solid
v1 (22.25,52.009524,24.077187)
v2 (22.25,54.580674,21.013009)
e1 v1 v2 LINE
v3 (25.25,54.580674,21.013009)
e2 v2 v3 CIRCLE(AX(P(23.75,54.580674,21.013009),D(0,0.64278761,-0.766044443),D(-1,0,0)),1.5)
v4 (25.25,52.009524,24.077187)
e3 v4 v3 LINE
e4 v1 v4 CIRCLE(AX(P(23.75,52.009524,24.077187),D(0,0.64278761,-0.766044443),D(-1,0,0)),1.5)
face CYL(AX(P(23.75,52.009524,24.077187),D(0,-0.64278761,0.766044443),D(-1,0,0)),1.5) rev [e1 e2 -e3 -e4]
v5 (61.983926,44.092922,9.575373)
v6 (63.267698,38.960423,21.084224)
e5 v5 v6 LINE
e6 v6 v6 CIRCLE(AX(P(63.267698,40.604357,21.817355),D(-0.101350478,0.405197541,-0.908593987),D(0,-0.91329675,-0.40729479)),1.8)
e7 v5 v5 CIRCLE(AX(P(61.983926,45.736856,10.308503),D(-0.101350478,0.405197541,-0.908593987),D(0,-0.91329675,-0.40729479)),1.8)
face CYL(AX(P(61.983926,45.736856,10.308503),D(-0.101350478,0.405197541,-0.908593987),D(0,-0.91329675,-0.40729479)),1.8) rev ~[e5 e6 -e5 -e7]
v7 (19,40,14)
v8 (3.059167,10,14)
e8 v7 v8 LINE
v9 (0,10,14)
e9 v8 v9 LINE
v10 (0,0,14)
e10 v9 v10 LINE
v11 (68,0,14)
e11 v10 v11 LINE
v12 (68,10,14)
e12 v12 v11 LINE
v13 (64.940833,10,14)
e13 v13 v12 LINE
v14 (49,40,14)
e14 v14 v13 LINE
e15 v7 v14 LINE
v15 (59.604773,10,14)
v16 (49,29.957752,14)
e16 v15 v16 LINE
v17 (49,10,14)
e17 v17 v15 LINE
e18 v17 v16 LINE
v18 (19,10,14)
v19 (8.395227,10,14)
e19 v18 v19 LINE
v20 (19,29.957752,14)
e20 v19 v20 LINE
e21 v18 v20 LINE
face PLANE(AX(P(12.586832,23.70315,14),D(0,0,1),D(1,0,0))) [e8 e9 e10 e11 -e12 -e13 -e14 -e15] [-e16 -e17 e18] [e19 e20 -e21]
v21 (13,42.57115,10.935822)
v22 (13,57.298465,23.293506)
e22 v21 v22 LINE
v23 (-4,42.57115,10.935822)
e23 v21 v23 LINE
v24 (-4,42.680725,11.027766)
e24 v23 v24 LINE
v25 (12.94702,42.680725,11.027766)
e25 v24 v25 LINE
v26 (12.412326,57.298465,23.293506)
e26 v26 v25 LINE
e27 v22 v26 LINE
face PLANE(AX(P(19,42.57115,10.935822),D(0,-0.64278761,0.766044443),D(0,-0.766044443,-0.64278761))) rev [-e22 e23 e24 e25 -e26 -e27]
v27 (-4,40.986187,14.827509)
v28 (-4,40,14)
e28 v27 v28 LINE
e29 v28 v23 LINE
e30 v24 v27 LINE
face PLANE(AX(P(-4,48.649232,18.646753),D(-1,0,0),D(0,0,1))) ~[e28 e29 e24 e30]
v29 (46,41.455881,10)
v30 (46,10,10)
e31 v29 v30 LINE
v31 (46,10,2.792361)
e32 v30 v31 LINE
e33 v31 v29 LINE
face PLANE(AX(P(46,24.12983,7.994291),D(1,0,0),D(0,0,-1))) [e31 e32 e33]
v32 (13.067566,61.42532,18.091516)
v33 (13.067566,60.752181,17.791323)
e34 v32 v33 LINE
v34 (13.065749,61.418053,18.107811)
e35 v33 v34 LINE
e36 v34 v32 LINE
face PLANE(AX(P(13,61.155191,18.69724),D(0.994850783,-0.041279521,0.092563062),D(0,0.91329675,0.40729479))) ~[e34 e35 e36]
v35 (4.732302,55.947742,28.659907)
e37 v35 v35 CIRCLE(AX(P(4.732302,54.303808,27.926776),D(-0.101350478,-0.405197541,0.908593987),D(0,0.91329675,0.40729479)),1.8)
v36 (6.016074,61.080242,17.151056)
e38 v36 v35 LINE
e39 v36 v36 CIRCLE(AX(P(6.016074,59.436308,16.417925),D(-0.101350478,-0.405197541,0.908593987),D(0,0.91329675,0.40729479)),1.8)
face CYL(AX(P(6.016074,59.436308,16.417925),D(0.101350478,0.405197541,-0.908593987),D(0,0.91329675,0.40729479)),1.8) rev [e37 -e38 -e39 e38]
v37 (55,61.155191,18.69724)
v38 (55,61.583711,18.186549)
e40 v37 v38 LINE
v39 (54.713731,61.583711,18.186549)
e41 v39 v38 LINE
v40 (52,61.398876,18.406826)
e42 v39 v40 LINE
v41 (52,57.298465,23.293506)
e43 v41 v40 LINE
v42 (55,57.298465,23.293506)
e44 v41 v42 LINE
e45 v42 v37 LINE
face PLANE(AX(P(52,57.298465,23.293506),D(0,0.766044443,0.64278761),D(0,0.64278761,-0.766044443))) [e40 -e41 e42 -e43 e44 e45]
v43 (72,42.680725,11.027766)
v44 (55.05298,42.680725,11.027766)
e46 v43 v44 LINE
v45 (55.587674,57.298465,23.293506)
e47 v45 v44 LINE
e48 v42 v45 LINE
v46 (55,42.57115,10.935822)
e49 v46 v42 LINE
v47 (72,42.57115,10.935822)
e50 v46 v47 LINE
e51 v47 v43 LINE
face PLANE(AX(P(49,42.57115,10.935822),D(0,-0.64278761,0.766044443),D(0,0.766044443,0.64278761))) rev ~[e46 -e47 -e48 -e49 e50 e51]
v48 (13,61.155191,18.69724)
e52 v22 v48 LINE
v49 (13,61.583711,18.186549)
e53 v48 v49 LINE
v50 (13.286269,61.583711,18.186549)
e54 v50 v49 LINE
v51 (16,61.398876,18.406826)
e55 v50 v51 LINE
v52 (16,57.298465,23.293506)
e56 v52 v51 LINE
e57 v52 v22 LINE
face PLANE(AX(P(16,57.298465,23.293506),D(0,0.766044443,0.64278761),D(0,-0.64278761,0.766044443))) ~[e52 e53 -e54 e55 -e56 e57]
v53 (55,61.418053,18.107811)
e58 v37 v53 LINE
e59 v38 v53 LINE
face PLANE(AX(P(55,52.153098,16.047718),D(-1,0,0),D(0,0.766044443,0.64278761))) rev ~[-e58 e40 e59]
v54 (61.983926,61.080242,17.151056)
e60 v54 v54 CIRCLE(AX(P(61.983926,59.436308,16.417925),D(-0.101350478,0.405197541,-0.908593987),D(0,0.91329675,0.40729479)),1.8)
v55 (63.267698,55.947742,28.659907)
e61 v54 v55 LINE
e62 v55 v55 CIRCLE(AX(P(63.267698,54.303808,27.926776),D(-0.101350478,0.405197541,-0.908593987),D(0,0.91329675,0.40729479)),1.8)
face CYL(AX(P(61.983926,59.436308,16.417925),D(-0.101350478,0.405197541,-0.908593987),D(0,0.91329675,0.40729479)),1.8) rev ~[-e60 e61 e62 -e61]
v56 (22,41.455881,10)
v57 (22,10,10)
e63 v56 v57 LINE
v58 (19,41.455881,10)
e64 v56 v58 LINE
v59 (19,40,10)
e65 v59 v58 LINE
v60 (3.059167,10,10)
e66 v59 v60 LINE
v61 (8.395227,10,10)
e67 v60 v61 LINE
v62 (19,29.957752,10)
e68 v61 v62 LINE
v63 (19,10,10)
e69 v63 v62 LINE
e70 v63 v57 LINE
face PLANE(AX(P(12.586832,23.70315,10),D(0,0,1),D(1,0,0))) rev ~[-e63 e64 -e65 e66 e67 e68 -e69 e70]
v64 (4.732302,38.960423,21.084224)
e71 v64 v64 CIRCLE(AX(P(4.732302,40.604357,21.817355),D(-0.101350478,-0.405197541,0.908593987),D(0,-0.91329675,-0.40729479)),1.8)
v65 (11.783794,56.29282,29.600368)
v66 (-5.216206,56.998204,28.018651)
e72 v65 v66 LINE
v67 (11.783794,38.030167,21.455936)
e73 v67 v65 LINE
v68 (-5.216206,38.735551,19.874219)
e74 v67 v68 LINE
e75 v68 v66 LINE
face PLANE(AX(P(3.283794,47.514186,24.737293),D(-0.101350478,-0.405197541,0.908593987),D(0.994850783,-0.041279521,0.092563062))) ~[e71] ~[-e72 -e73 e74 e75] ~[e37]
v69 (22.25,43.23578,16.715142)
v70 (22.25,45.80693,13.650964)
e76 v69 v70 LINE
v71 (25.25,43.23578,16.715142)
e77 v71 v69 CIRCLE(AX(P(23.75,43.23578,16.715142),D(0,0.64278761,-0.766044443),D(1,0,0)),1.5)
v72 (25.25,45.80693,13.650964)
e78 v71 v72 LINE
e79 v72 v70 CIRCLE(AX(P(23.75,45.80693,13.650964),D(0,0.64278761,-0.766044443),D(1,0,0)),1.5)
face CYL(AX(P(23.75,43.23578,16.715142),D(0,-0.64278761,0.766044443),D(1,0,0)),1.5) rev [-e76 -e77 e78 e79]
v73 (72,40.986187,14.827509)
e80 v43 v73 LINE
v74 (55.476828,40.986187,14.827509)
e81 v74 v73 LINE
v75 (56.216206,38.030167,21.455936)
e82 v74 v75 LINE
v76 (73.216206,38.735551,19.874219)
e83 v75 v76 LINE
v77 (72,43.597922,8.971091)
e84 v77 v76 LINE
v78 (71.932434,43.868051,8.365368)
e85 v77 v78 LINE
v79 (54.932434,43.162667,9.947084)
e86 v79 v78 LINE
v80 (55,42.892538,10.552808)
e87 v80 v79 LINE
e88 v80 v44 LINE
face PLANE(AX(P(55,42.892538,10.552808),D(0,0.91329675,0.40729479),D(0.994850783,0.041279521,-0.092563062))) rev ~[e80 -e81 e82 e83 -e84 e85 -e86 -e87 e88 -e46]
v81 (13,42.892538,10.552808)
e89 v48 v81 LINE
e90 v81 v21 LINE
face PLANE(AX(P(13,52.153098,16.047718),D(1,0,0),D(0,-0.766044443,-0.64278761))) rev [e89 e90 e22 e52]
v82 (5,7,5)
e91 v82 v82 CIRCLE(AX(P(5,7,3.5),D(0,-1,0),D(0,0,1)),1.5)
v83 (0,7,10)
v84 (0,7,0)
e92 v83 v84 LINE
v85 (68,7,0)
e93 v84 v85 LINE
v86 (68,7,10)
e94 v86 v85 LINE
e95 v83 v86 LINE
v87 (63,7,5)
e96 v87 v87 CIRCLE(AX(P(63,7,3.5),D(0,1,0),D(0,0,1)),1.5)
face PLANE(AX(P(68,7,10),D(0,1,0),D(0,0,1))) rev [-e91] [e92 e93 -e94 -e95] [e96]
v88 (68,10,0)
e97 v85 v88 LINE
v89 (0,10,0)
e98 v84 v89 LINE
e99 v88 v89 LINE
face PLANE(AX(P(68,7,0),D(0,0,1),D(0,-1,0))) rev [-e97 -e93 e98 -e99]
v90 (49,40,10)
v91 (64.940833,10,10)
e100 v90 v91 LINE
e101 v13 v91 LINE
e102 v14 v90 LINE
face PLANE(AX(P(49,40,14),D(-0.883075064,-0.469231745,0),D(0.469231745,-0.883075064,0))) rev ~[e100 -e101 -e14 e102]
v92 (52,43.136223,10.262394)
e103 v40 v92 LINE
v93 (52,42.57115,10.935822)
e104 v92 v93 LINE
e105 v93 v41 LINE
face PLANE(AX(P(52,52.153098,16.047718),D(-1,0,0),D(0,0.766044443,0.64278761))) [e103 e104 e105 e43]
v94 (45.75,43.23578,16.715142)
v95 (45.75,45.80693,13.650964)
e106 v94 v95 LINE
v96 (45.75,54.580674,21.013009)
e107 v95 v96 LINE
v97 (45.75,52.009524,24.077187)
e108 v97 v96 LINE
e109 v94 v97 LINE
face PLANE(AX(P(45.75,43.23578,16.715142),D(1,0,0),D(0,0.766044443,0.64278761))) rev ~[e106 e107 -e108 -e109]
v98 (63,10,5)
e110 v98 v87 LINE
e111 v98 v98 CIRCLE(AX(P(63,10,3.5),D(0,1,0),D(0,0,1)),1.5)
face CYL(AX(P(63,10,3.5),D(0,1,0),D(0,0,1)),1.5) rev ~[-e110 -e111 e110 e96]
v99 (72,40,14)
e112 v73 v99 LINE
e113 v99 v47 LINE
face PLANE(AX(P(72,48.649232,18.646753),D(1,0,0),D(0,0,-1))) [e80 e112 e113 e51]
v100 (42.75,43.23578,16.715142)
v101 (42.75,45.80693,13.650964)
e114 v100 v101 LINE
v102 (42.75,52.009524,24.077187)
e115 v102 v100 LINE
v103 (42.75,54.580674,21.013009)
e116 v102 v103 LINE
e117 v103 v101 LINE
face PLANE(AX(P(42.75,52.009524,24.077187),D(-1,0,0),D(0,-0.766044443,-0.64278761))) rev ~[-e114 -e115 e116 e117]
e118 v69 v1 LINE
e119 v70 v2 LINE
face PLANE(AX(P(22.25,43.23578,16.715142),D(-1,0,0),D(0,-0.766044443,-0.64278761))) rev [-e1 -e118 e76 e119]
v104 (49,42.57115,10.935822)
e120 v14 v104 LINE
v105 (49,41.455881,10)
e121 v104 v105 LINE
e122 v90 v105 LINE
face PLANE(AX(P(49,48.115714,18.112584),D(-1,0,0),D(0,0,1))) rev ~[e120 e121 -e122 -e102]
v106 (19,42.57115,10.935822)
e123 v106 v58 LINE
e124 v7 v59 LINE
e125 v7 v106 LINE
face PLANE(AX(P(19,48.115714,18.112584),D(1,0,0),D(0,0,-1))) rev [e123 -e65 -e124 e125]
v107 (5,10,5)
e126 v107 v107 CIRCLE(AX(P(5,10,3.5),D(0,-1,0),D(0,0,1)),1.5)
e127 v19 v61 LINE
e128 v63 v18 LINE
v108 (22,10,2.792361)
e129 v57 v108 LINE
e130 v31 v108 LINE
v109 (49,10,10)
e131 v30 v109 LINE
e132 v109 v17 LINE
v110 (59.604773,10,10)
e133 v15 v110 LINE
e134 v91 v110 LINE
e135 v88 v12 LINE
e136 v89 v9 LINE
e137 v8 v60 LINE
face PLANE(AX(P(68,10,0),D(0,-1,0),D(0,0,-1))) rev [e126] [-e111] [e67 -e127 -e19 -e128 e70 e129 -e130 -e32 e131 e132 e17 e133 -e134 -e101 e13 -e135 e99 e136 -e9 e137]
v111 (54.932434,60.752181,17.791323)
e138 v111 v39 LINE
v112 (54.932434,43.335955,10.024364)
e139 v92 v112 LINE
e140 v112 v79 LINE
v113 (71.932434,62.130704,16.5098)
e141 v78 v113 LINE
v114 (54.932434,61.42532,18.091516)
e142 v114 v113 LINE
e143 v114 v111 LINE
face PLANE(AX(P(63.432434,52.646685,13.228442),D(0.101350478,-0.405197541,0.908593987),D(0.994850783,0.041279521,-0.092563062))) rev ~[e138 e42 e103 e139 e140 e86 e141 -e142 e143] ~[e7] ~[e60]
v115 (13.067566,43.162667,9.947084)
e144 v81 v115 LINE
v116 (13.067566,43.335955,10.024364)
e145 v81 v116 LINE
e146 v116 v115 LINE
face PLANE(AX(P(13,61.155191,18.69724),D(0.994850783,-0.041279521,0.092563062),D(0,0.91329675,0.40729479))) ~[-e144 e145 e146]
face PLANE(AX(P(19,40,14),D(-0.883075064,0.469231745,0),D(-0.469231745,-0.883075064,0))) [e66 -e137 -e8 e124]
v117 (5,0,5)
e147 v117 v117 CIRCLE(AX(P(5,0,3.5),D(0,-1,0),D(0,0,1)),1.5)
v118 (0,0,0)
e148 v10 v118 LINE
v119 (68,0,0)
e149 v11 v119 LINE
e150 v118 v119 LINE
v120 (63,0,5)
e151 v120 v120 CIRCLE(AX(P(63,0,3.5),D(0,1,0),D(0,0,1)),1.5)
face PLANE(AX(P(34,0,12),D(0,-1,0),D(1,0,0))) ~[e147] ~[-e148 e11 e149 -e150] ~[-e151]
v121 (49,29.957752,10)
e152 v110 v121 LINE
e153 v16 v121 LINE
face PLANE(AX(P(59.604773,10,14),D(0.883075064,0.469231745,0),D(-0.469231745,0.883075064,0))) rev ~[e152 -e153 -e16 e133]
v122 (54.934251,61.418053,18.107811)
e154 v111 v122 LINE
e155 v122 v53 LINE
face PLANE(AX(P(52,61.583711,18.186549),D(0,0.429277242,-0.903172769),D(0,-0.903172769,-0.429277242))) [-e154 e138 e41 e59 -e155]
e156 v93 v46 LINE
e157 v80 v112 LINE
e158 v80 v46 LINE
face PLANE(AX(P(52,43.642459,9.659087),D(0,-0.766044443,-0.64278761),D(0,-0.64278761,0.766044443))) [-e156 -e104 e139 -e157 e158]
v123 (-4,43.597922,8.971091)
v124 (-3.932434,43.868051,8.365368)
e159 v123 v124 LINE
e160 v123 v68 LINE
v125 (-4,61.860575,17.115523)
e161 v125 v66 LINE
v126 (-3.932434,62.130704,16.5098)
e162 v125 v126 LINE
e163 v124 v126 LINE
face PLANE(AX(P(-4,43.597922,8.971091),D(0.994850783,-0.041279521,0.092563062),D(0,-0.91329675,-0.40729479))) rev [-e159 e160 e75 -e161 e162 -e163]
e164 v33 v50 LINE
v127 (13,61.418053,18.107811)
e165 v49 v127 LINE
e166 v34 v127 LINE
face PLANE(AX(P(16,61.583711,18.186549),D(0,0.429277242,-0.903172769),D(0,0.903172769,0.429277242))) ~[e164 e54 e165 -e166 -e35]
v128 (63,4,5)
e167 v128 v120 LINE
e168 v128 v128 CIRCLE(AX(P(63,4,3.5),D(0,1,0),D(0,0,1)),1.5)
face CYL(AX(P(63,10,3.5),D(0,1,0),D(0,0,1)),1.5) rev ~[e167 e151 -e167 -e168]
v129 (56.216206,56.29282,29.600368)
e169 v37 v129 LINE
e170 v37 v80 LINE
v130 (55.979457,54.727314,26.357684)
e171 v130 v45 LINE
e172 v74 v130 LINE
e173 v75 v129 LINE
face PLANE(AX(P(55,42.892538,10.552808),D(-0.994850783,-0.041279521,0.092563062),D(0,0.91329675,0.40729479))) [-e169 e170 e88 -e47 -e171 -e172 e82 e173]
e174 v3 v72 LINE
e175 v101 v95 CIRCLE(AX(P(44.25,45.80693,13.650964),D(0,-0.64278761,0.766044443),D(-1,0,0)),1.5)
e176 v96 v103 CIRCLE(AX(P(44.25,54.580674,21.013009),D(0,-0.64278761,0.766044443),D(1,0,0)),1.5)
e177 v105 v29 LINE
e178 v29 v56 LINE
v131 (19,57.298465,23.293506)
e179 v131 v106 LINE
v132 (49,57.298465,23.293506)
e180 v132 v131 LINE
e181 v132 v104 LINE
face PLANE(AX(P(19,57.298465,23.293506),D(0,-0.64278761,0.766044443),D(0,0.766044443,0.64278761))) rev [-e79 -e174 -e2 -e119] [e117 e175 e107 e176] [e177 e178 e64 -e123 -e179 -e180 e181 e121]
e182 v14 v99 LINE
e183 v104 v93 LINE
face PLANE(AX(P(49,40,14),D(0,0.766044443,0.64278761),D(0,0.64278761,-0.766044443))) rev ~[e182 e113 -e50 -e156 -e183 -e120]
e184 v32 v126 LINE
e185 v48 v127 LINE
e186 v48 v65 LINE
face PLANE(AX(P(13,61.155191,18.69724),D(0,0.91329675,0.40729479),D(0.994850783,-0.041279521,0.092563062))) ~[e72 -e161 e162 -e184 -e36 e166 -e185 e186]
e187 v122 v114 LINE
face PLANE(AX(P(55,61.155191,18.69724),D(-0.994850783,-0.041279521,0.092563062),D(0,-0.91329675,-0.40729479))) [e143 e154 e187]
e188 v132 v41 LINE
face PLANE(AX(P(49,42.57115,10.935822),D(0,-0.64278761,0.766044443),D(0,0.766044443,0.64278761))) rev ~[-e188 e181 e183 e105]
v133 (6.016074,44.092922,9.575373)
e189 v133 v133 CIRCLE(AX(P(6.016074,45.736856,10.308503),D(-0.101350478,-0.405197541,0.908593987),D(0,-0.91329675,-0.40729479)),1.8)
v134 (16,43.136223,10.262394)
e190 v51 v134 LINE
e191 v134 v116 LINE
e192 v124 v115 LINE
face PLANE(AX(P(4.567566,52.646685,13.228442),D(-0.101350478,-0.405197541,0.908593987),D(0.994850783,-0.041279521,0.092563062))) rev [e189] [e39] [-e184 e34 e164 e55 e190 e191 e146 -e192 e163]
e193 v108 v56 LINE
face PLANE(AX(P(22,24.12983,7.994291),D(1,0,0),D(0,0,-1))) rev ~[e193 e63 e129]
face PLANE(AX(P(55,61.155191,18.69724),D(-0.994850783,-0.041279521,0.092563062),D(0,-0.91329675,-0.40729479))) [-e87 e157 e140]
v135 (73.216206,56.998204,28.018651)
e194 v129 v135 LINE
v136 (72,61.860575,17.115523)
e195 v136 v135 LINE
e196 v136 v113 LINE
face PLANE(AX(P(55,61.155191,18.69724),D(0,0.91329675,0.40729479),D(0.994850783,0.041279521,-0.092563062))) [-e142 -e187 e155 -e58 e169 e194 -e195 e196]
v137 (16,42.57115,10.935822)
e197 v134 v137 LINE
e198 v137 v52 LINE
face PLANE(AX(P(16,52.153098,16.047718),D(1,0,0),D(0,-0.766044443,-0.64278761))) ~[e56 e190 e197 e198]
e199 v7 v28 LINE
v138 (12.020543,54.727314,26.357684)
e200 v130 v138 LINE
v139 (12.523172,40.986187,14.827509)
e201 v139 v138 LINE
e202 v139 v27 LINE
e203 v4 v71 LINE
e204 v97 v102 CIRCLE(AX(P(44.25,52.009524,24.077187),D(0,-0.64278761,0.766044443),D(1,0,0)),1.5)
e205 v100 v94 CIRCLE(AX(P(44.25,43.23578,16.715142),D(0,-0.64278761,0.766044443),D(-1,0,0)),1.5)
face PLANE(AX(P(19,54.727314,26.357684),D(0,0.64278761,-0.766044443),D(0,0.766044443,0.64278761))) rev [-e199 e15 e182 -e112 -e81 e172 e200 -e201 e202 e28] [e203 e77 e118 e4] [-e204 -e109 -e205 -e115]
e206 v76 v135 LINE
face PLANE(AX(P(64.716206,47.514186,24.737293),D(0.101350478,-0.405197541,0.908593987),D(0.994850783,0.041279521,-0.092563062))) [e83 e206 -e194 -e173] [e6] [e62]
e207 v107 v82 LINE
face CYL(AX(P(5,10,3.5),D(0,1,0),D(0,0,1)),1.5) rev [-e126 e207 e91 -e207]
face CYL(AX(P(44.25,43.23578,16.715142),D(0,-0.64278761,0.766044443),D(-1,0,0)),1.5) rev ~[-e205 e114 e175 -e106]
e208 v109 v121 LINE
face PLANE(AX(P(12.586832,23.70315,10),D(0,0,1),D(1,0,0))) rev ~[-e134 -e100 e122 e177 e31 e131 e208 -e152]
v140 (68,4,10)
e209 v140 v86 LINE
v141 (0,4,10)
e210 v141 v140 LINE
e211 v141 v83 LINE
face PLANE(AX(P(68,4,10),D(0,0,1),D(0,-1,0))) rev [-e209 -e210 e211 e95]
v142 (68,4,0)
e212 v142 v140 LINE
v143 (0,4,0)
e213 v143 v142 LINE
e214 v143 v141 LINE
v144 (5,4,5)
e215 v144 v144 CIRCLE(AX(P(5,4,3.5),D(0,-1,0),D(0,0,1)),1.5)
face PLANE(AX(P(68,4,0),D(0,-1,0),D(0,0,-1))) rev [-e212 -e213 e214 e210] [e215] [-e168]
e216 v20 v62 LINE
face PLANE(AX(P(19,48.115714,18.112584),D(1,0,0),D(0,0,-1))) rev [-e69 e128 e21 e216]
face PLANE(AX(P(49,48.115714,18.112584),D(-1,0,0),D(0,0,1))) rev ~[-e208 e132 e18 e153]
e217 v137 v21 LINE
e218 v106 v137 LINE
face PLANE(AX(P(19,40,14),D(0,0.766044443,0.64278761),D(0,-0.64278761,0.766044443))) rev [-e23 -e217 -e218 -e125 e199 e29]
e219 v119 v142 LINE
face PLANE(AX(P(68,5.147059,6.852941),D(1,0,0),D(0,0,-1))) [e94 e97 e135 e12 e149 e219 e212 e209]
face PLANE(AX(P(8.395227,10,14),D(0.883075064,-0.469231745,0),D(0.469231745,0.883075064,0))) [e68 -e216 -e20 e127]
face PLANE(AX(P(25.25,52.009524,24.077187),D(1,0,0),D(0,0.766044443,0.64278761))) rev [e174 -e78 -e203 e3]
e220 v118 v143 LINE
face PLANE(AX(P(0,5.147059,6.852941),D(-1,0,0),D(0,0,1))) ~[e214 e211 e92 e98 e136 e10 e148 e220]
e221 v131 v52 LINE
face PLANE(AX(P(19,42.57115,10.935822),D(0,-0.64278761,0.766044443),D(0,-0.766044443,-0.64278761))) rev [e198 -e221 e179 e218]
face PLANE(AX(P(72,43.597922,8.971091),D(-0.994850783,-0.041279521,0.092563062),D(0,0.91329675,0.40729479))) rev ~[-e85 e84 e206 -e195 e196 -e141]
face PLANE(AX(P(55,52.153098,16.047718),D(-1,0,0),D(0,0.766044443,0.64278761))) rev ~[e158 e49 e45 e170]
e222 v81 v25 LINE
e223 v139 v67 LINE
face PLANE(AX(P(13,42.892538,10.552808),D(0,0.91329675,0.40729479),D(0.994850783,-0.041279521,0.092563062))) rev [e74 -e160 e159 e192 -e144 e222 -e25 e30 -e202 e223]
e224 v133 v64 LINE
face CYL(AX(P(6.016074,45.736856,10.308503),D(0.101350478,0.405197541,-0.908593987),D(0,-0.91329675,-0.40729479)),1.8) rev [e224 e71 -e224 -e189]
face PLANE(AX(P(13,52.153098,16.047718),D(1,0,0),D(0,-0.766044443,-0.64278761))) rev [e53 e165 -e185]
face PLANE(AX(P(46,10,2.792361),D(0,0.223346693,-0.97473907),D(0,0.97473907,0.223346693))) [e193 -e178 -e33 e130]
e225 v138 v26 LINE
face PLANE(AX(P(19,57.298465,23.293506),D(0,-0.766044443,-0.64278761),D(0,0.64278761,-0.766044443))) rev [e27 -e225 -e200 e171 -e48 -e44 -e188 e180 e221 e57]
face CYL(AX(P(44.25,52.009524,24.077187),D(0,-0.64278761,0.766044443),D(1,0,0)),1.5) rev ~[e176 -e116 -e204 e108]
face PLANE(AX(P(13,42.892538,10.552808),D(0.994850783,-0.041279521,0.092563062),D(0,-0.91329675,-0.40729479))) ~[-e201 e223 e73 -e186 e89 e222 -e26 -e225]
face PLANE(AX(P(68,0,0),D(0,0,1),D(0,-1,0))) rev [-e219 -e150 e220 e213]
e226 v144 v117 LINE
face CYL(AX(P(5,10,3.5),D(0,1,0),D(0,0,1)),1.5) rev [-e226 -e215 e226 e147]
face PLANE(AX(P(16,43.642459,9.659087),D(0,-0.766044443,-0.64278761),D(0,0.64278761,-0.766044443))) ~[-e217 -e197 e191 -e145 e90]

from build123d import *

# Parameters (mm, degrees)
EXTRUDE_1_DEPTH       = 68
SKETCH_2_R            = 1.5
CUT_EXTRUDE_1_DEPTH   = 60
SKETCH_3_W            = 30
SKETCH_3_H            = 4
EXTRUDE_2_DEPTH       = 40
EXTRUDE_3_DEPTH       = 30
CUT_EXTRUDE_2_DEPTH   = 4
EXTRUDE_4_DEPTH       = 23
EXTRUDE_START         = -53
EXTRUDE_5_DEPTH       = 23
EXTRUDE_6_DEPTH       = 3
EXTRUDE_7_DEPTH       = 0.66666
SKETCH_17_W           = 17.087989765
SKETCH_17_H           = 19.996406133
EXTRUDE_9_DEPTH       = 12
SKETCH_19_R           = 1.8
CUT_EXTRUDE_3_DEPTH   = 20
SKETCH_20_W           = 61.603006609
SKETCH_20_H           = 84.586869481
CUT_EXTRUDE_4_DEPTH   = 65
SKETCH_21_W           = 7.494214953
SKETCH_21_H           = 26.873102225
CUT_EXTRUDE_5_DEPTH   = 2
SKETCH_22_W           = 9.970658679
SKETCH_22_H           = 25.794738871
CUT_EXTRUDE_6_DEPTH   = 2
EXTRUDE_10_DEPTH      = 4
EXTRUDE_11_DEPTH      = 12
EXTRUDE_11_DEPTH_BACK = 12


with BuildPart() as part:
    # 草图1 → 凸台-拉伸1 (new body)
    with BuildSketch(Plane(origin=(0, 0, 0), x_dir=(0, 0, -1), z_dir=(1, 0, 0))):
        Polygon((0, 0), (0, 4), (-10, 4), (-10, 7), (0, 7), (0, 10), (-14, 10), (-14, 0), align=None)
    extrude(amount=EXTRUDE_1_DEPTH)

    # 草图2 → 切除-拉伸1 (cut)
    with BuildSketch(Plane(origin=(0, 10, 0), x_dir=(1, 0, 0), z_dir=(0, 1, 0))):
        with Locations(Location((5, -3.5, 0), (0, 0, 270))):
            Circle(SKETCH_2_R)
        with Locations(Location((63, -3.5, 0), (0, 0, 270))):
            Circle(SKETCH_2_R)
    extrude(amount=-CUT_EXTRUDE_1_DEPTH, mode=Mode.SUBTRACT)

    # 草图3 → 凸台-拉伸2 (add)
    with BuildSketch(Plane.XZ):
        with Locations((34, 12)):
            Rectangle(SKETCH_3_W, SKETCH_3_H)
    extrude(amount=-EXTRUDE_2_DEPTH)

    # 草图4 → 凸台-拉伸3 (add)
    with BuildSketch(Plane(origin=(49, 0, 0), x_dir=(0, 0, -1), z_dir=(1, 0, 0))):
        Polygon((-14, 40), (-26.357684131, 54.727314459), (-23.293506358, 57.298464898), (-10, 41.455880937), (-10, 40), align=None)
    extrude(amount=-EXTRUDE_3_DEPTH)

    # 草图5 → 切除-拉伸2 (cut)
    with BuildSketch(Plane(origin=(0, 9.633382176, -11.480617817), x_dir=(1, 0, 0), z_dir=(0, -0.6427876096865429, 0.7660444431189751))):
        with BuildLine():
            Line((25.25, 55.318123989), (25.25, 43.864814933))
            ThreePointArc((25.25, 43.864814933), (23.75, 42.364814933), (22.25, 43.864814933))
            Line((22.25, 43.864814933), (22.25, 55.318123989))
            ThreePointArc((22.25, 55.318123989), (23.75, 56.818123989), (25.25, 55.318123989))
        make_face()
        with BuildLine():
            Line((42.75, 55.318123989), (42.75, 43.864814933))
            ThreePointArc((42.75, 43.864814933), (44.25, 42.364814933), (45.75, 43.864814933))
            Line((45.75, 43.864814933), (45.75, 55.318123989))
            ThreePointArc((45.75, 55.318123989), (44.25, 56.818123989), (42.75, 55.318123989))
        make_face()
    extrude(amount=-CUT_EXTRUDE_2_DEPTH, mode=Mode.SUBTRACT)

    # 草图6 → 凸台-拉伸4 (add)
    with BuildSketch(Plane.ZY.offset(-19)):
        Polygon((23.293506358, 57.298464898), (26.357684131, 54.727314459), (14, 40), (10.935822228, 42.571150439), align=None)
    extrude(amount=EXTRUDE_4_DEPTH)

    # 草图7 → 凸台-拉伸5 (add)
    with BuildSketch(Plane.ZY.offset(4).offset(EXTRUDE_START)):
        Polygon((23.293506358, 57.298464898), (26.357684131, 54.727314459), (14, 40), (10.935822228, 42.571150439), align=None)
    extrude(amount=-EXTRUDE_5_DEPTH)

    # 草图10 → 凸台-拉伸6 (add)
    with BuildSketch(Plane(origin=(52, 0, 0), x_dir=(0, 0.7660444431189749, 0.6427876096865431), z_dir=(-1, 0, 0))):
        Polygon((39.64080426, 18.986882184), (58.865947907, 18.986882184), (58.865947907, 25.653542184), (39.64080426, 20.653542184), align=None)
    extrude(amount=-EXTRUDE_6_DEPTH)

    # 草图15 → 凸台-拉伸7 (add)
    with BuildSketch(Plane(origin=(-0.224740323, 0.898508111, -2.01476807), x_dir=(0.9948507831271028, 0.04127952147527669, -0.09256306184522162), z_dir=(0.10135047760810084, -0.4051975406133526, 0.9085939873064868))):
        Polygon((55.510576319, 63.468125115), (55.510576319, 62.353864223), (55.510576319, 43.471718982), (72.598566084, 43.471718982), (72.598566084, 62.353864223), (72.598566084, 63.468125115), align=None)
    extrude(amount=-EXTRUDE_7_DEPTH)

    # 草图17 → 凸台-拉伸9 (add)
    with BuildSketch(Plane(origin=(-0.224740323, 0.898508111, -2.01476807), x_dir=(0.994850783127103, 0.04127952147527699, -0.09256306184522194), z_dir=(0.10135047760810126, -0.40519754061335256, 0.9085939873064869))):
        with Locations((64.054571201, 53.469922049)):
            Rectangle(SKETCH_17_W, SKETCH_17_H)
    extrude(amount=EXTRUDE_9_DEPTH)

    # 草图19 → 切除-拉伸3 (cut)
    with BuildSketch(Plane(origin=(-0.292306632, 1.168637103, -2.620491338), x_dir=(-0.9948507831271028, -0.04127952147527692, 0.09256306184522202), z_dir=(-0.10135047760810131, 0.40519754061335245, -0.908593987306487))):
        with Locations(Location((-62.598566084, 60.969922048, 0), (0, 0, 90))):
            Circle(SKETCH_19_R)
        with Locations(Location((-62.598566084, 45.969922048, 0), (0, 0, 270))):
            Circle(SKETCH_19_R)
    extrude(amount=-CUT_EXTRUDE_3_DEPTH, mode=Mode.SUBTRACT)

    # 草图20 → 切除-拉伸4 (cut)
    with BuildSketch(Plane.ZY.offset(-34)):
        with Locations((16.944749698, 32.191708304)):
            Rectangle(SKETCH_20_W, SKETCH_20_H)
    extrude(amount=CUT_EXTRUDE_4_DEPTH, mode=Mode.SUBTRACT)

    # 镜向7: part across plane


with BuildPart() as part_1:
    add(part.part)
    add(part.part.mirror(Plane.ZY.offset(-34)))

    # 草图21 → 切除-拉伸5 (cut)
    with BuildSketch(Plane(origin=(-0.292306632, 1.168637103, -2.620491338), x_dir=(-0.9948507831271028, -0.04127952147527692, 0.09256306184522202), z_dir=(-0.10135047760810131, 0.40519754061335245, -0.908593987306487))):
        with Locations((-54.514442647, 53.802326892)):
            Rectangle(SKETCH_21_W, SKETCH_21_H)
    extrude(amount=CUT_EXTRUDE_5_DEPTH, mode=Mode.SUBTRACT)

    # 草图22 → 切除-拉伸6 (cut)
    with BuildSketch(Plane(origin=(0.990797146, 3.961190673, -8.882368888), x_dir=(-0.9948507831271028, 0.04127952147527693, -0.09256306184522203), z_dir=(0.10135047760810131, 0.40519754061335256, -0.9085939873064868))):
        with Locations((-12.026553315, 54.032339334)):
            Rectangle(SKETCH_22_W, SKETCH_22_H)
    extrude(amount=CUT_EXTRUDE_6_DEPTH, mode=Mode.SUBTRACT)

    # 草图24 → 凸台-拉伸10 (add)
    with BuildSketch(Plane.XY.offset(14)):
        Polygon((19, 40), (3.059166743, 10), (8.395226669, 10), (19, 29.957752195), align=None)
        Polygon((49, 40), (64.940833257, 10), (59.604773331, 10), (49, 29.957752195), align=None)
    extrude(amount=-EXTRUDE_10_DEPTH)

    # 草图29 → 凸台-拉伸11 (add, two sides: drawn at the far end of the back side and taken through both)
    with BuildSketch(Plane.ZY.offset(-34).offset(-EXTRUDE_11_DEPTH_BACK)):
        Polygon((10, 10), (2.792361366, 10), (10, 41.455880937), align=None)
    extrude(amount=EXTRUDE_11_DEPTH + EXTRUDE_11_DEPTH_BACK)


solid = part_1.part
